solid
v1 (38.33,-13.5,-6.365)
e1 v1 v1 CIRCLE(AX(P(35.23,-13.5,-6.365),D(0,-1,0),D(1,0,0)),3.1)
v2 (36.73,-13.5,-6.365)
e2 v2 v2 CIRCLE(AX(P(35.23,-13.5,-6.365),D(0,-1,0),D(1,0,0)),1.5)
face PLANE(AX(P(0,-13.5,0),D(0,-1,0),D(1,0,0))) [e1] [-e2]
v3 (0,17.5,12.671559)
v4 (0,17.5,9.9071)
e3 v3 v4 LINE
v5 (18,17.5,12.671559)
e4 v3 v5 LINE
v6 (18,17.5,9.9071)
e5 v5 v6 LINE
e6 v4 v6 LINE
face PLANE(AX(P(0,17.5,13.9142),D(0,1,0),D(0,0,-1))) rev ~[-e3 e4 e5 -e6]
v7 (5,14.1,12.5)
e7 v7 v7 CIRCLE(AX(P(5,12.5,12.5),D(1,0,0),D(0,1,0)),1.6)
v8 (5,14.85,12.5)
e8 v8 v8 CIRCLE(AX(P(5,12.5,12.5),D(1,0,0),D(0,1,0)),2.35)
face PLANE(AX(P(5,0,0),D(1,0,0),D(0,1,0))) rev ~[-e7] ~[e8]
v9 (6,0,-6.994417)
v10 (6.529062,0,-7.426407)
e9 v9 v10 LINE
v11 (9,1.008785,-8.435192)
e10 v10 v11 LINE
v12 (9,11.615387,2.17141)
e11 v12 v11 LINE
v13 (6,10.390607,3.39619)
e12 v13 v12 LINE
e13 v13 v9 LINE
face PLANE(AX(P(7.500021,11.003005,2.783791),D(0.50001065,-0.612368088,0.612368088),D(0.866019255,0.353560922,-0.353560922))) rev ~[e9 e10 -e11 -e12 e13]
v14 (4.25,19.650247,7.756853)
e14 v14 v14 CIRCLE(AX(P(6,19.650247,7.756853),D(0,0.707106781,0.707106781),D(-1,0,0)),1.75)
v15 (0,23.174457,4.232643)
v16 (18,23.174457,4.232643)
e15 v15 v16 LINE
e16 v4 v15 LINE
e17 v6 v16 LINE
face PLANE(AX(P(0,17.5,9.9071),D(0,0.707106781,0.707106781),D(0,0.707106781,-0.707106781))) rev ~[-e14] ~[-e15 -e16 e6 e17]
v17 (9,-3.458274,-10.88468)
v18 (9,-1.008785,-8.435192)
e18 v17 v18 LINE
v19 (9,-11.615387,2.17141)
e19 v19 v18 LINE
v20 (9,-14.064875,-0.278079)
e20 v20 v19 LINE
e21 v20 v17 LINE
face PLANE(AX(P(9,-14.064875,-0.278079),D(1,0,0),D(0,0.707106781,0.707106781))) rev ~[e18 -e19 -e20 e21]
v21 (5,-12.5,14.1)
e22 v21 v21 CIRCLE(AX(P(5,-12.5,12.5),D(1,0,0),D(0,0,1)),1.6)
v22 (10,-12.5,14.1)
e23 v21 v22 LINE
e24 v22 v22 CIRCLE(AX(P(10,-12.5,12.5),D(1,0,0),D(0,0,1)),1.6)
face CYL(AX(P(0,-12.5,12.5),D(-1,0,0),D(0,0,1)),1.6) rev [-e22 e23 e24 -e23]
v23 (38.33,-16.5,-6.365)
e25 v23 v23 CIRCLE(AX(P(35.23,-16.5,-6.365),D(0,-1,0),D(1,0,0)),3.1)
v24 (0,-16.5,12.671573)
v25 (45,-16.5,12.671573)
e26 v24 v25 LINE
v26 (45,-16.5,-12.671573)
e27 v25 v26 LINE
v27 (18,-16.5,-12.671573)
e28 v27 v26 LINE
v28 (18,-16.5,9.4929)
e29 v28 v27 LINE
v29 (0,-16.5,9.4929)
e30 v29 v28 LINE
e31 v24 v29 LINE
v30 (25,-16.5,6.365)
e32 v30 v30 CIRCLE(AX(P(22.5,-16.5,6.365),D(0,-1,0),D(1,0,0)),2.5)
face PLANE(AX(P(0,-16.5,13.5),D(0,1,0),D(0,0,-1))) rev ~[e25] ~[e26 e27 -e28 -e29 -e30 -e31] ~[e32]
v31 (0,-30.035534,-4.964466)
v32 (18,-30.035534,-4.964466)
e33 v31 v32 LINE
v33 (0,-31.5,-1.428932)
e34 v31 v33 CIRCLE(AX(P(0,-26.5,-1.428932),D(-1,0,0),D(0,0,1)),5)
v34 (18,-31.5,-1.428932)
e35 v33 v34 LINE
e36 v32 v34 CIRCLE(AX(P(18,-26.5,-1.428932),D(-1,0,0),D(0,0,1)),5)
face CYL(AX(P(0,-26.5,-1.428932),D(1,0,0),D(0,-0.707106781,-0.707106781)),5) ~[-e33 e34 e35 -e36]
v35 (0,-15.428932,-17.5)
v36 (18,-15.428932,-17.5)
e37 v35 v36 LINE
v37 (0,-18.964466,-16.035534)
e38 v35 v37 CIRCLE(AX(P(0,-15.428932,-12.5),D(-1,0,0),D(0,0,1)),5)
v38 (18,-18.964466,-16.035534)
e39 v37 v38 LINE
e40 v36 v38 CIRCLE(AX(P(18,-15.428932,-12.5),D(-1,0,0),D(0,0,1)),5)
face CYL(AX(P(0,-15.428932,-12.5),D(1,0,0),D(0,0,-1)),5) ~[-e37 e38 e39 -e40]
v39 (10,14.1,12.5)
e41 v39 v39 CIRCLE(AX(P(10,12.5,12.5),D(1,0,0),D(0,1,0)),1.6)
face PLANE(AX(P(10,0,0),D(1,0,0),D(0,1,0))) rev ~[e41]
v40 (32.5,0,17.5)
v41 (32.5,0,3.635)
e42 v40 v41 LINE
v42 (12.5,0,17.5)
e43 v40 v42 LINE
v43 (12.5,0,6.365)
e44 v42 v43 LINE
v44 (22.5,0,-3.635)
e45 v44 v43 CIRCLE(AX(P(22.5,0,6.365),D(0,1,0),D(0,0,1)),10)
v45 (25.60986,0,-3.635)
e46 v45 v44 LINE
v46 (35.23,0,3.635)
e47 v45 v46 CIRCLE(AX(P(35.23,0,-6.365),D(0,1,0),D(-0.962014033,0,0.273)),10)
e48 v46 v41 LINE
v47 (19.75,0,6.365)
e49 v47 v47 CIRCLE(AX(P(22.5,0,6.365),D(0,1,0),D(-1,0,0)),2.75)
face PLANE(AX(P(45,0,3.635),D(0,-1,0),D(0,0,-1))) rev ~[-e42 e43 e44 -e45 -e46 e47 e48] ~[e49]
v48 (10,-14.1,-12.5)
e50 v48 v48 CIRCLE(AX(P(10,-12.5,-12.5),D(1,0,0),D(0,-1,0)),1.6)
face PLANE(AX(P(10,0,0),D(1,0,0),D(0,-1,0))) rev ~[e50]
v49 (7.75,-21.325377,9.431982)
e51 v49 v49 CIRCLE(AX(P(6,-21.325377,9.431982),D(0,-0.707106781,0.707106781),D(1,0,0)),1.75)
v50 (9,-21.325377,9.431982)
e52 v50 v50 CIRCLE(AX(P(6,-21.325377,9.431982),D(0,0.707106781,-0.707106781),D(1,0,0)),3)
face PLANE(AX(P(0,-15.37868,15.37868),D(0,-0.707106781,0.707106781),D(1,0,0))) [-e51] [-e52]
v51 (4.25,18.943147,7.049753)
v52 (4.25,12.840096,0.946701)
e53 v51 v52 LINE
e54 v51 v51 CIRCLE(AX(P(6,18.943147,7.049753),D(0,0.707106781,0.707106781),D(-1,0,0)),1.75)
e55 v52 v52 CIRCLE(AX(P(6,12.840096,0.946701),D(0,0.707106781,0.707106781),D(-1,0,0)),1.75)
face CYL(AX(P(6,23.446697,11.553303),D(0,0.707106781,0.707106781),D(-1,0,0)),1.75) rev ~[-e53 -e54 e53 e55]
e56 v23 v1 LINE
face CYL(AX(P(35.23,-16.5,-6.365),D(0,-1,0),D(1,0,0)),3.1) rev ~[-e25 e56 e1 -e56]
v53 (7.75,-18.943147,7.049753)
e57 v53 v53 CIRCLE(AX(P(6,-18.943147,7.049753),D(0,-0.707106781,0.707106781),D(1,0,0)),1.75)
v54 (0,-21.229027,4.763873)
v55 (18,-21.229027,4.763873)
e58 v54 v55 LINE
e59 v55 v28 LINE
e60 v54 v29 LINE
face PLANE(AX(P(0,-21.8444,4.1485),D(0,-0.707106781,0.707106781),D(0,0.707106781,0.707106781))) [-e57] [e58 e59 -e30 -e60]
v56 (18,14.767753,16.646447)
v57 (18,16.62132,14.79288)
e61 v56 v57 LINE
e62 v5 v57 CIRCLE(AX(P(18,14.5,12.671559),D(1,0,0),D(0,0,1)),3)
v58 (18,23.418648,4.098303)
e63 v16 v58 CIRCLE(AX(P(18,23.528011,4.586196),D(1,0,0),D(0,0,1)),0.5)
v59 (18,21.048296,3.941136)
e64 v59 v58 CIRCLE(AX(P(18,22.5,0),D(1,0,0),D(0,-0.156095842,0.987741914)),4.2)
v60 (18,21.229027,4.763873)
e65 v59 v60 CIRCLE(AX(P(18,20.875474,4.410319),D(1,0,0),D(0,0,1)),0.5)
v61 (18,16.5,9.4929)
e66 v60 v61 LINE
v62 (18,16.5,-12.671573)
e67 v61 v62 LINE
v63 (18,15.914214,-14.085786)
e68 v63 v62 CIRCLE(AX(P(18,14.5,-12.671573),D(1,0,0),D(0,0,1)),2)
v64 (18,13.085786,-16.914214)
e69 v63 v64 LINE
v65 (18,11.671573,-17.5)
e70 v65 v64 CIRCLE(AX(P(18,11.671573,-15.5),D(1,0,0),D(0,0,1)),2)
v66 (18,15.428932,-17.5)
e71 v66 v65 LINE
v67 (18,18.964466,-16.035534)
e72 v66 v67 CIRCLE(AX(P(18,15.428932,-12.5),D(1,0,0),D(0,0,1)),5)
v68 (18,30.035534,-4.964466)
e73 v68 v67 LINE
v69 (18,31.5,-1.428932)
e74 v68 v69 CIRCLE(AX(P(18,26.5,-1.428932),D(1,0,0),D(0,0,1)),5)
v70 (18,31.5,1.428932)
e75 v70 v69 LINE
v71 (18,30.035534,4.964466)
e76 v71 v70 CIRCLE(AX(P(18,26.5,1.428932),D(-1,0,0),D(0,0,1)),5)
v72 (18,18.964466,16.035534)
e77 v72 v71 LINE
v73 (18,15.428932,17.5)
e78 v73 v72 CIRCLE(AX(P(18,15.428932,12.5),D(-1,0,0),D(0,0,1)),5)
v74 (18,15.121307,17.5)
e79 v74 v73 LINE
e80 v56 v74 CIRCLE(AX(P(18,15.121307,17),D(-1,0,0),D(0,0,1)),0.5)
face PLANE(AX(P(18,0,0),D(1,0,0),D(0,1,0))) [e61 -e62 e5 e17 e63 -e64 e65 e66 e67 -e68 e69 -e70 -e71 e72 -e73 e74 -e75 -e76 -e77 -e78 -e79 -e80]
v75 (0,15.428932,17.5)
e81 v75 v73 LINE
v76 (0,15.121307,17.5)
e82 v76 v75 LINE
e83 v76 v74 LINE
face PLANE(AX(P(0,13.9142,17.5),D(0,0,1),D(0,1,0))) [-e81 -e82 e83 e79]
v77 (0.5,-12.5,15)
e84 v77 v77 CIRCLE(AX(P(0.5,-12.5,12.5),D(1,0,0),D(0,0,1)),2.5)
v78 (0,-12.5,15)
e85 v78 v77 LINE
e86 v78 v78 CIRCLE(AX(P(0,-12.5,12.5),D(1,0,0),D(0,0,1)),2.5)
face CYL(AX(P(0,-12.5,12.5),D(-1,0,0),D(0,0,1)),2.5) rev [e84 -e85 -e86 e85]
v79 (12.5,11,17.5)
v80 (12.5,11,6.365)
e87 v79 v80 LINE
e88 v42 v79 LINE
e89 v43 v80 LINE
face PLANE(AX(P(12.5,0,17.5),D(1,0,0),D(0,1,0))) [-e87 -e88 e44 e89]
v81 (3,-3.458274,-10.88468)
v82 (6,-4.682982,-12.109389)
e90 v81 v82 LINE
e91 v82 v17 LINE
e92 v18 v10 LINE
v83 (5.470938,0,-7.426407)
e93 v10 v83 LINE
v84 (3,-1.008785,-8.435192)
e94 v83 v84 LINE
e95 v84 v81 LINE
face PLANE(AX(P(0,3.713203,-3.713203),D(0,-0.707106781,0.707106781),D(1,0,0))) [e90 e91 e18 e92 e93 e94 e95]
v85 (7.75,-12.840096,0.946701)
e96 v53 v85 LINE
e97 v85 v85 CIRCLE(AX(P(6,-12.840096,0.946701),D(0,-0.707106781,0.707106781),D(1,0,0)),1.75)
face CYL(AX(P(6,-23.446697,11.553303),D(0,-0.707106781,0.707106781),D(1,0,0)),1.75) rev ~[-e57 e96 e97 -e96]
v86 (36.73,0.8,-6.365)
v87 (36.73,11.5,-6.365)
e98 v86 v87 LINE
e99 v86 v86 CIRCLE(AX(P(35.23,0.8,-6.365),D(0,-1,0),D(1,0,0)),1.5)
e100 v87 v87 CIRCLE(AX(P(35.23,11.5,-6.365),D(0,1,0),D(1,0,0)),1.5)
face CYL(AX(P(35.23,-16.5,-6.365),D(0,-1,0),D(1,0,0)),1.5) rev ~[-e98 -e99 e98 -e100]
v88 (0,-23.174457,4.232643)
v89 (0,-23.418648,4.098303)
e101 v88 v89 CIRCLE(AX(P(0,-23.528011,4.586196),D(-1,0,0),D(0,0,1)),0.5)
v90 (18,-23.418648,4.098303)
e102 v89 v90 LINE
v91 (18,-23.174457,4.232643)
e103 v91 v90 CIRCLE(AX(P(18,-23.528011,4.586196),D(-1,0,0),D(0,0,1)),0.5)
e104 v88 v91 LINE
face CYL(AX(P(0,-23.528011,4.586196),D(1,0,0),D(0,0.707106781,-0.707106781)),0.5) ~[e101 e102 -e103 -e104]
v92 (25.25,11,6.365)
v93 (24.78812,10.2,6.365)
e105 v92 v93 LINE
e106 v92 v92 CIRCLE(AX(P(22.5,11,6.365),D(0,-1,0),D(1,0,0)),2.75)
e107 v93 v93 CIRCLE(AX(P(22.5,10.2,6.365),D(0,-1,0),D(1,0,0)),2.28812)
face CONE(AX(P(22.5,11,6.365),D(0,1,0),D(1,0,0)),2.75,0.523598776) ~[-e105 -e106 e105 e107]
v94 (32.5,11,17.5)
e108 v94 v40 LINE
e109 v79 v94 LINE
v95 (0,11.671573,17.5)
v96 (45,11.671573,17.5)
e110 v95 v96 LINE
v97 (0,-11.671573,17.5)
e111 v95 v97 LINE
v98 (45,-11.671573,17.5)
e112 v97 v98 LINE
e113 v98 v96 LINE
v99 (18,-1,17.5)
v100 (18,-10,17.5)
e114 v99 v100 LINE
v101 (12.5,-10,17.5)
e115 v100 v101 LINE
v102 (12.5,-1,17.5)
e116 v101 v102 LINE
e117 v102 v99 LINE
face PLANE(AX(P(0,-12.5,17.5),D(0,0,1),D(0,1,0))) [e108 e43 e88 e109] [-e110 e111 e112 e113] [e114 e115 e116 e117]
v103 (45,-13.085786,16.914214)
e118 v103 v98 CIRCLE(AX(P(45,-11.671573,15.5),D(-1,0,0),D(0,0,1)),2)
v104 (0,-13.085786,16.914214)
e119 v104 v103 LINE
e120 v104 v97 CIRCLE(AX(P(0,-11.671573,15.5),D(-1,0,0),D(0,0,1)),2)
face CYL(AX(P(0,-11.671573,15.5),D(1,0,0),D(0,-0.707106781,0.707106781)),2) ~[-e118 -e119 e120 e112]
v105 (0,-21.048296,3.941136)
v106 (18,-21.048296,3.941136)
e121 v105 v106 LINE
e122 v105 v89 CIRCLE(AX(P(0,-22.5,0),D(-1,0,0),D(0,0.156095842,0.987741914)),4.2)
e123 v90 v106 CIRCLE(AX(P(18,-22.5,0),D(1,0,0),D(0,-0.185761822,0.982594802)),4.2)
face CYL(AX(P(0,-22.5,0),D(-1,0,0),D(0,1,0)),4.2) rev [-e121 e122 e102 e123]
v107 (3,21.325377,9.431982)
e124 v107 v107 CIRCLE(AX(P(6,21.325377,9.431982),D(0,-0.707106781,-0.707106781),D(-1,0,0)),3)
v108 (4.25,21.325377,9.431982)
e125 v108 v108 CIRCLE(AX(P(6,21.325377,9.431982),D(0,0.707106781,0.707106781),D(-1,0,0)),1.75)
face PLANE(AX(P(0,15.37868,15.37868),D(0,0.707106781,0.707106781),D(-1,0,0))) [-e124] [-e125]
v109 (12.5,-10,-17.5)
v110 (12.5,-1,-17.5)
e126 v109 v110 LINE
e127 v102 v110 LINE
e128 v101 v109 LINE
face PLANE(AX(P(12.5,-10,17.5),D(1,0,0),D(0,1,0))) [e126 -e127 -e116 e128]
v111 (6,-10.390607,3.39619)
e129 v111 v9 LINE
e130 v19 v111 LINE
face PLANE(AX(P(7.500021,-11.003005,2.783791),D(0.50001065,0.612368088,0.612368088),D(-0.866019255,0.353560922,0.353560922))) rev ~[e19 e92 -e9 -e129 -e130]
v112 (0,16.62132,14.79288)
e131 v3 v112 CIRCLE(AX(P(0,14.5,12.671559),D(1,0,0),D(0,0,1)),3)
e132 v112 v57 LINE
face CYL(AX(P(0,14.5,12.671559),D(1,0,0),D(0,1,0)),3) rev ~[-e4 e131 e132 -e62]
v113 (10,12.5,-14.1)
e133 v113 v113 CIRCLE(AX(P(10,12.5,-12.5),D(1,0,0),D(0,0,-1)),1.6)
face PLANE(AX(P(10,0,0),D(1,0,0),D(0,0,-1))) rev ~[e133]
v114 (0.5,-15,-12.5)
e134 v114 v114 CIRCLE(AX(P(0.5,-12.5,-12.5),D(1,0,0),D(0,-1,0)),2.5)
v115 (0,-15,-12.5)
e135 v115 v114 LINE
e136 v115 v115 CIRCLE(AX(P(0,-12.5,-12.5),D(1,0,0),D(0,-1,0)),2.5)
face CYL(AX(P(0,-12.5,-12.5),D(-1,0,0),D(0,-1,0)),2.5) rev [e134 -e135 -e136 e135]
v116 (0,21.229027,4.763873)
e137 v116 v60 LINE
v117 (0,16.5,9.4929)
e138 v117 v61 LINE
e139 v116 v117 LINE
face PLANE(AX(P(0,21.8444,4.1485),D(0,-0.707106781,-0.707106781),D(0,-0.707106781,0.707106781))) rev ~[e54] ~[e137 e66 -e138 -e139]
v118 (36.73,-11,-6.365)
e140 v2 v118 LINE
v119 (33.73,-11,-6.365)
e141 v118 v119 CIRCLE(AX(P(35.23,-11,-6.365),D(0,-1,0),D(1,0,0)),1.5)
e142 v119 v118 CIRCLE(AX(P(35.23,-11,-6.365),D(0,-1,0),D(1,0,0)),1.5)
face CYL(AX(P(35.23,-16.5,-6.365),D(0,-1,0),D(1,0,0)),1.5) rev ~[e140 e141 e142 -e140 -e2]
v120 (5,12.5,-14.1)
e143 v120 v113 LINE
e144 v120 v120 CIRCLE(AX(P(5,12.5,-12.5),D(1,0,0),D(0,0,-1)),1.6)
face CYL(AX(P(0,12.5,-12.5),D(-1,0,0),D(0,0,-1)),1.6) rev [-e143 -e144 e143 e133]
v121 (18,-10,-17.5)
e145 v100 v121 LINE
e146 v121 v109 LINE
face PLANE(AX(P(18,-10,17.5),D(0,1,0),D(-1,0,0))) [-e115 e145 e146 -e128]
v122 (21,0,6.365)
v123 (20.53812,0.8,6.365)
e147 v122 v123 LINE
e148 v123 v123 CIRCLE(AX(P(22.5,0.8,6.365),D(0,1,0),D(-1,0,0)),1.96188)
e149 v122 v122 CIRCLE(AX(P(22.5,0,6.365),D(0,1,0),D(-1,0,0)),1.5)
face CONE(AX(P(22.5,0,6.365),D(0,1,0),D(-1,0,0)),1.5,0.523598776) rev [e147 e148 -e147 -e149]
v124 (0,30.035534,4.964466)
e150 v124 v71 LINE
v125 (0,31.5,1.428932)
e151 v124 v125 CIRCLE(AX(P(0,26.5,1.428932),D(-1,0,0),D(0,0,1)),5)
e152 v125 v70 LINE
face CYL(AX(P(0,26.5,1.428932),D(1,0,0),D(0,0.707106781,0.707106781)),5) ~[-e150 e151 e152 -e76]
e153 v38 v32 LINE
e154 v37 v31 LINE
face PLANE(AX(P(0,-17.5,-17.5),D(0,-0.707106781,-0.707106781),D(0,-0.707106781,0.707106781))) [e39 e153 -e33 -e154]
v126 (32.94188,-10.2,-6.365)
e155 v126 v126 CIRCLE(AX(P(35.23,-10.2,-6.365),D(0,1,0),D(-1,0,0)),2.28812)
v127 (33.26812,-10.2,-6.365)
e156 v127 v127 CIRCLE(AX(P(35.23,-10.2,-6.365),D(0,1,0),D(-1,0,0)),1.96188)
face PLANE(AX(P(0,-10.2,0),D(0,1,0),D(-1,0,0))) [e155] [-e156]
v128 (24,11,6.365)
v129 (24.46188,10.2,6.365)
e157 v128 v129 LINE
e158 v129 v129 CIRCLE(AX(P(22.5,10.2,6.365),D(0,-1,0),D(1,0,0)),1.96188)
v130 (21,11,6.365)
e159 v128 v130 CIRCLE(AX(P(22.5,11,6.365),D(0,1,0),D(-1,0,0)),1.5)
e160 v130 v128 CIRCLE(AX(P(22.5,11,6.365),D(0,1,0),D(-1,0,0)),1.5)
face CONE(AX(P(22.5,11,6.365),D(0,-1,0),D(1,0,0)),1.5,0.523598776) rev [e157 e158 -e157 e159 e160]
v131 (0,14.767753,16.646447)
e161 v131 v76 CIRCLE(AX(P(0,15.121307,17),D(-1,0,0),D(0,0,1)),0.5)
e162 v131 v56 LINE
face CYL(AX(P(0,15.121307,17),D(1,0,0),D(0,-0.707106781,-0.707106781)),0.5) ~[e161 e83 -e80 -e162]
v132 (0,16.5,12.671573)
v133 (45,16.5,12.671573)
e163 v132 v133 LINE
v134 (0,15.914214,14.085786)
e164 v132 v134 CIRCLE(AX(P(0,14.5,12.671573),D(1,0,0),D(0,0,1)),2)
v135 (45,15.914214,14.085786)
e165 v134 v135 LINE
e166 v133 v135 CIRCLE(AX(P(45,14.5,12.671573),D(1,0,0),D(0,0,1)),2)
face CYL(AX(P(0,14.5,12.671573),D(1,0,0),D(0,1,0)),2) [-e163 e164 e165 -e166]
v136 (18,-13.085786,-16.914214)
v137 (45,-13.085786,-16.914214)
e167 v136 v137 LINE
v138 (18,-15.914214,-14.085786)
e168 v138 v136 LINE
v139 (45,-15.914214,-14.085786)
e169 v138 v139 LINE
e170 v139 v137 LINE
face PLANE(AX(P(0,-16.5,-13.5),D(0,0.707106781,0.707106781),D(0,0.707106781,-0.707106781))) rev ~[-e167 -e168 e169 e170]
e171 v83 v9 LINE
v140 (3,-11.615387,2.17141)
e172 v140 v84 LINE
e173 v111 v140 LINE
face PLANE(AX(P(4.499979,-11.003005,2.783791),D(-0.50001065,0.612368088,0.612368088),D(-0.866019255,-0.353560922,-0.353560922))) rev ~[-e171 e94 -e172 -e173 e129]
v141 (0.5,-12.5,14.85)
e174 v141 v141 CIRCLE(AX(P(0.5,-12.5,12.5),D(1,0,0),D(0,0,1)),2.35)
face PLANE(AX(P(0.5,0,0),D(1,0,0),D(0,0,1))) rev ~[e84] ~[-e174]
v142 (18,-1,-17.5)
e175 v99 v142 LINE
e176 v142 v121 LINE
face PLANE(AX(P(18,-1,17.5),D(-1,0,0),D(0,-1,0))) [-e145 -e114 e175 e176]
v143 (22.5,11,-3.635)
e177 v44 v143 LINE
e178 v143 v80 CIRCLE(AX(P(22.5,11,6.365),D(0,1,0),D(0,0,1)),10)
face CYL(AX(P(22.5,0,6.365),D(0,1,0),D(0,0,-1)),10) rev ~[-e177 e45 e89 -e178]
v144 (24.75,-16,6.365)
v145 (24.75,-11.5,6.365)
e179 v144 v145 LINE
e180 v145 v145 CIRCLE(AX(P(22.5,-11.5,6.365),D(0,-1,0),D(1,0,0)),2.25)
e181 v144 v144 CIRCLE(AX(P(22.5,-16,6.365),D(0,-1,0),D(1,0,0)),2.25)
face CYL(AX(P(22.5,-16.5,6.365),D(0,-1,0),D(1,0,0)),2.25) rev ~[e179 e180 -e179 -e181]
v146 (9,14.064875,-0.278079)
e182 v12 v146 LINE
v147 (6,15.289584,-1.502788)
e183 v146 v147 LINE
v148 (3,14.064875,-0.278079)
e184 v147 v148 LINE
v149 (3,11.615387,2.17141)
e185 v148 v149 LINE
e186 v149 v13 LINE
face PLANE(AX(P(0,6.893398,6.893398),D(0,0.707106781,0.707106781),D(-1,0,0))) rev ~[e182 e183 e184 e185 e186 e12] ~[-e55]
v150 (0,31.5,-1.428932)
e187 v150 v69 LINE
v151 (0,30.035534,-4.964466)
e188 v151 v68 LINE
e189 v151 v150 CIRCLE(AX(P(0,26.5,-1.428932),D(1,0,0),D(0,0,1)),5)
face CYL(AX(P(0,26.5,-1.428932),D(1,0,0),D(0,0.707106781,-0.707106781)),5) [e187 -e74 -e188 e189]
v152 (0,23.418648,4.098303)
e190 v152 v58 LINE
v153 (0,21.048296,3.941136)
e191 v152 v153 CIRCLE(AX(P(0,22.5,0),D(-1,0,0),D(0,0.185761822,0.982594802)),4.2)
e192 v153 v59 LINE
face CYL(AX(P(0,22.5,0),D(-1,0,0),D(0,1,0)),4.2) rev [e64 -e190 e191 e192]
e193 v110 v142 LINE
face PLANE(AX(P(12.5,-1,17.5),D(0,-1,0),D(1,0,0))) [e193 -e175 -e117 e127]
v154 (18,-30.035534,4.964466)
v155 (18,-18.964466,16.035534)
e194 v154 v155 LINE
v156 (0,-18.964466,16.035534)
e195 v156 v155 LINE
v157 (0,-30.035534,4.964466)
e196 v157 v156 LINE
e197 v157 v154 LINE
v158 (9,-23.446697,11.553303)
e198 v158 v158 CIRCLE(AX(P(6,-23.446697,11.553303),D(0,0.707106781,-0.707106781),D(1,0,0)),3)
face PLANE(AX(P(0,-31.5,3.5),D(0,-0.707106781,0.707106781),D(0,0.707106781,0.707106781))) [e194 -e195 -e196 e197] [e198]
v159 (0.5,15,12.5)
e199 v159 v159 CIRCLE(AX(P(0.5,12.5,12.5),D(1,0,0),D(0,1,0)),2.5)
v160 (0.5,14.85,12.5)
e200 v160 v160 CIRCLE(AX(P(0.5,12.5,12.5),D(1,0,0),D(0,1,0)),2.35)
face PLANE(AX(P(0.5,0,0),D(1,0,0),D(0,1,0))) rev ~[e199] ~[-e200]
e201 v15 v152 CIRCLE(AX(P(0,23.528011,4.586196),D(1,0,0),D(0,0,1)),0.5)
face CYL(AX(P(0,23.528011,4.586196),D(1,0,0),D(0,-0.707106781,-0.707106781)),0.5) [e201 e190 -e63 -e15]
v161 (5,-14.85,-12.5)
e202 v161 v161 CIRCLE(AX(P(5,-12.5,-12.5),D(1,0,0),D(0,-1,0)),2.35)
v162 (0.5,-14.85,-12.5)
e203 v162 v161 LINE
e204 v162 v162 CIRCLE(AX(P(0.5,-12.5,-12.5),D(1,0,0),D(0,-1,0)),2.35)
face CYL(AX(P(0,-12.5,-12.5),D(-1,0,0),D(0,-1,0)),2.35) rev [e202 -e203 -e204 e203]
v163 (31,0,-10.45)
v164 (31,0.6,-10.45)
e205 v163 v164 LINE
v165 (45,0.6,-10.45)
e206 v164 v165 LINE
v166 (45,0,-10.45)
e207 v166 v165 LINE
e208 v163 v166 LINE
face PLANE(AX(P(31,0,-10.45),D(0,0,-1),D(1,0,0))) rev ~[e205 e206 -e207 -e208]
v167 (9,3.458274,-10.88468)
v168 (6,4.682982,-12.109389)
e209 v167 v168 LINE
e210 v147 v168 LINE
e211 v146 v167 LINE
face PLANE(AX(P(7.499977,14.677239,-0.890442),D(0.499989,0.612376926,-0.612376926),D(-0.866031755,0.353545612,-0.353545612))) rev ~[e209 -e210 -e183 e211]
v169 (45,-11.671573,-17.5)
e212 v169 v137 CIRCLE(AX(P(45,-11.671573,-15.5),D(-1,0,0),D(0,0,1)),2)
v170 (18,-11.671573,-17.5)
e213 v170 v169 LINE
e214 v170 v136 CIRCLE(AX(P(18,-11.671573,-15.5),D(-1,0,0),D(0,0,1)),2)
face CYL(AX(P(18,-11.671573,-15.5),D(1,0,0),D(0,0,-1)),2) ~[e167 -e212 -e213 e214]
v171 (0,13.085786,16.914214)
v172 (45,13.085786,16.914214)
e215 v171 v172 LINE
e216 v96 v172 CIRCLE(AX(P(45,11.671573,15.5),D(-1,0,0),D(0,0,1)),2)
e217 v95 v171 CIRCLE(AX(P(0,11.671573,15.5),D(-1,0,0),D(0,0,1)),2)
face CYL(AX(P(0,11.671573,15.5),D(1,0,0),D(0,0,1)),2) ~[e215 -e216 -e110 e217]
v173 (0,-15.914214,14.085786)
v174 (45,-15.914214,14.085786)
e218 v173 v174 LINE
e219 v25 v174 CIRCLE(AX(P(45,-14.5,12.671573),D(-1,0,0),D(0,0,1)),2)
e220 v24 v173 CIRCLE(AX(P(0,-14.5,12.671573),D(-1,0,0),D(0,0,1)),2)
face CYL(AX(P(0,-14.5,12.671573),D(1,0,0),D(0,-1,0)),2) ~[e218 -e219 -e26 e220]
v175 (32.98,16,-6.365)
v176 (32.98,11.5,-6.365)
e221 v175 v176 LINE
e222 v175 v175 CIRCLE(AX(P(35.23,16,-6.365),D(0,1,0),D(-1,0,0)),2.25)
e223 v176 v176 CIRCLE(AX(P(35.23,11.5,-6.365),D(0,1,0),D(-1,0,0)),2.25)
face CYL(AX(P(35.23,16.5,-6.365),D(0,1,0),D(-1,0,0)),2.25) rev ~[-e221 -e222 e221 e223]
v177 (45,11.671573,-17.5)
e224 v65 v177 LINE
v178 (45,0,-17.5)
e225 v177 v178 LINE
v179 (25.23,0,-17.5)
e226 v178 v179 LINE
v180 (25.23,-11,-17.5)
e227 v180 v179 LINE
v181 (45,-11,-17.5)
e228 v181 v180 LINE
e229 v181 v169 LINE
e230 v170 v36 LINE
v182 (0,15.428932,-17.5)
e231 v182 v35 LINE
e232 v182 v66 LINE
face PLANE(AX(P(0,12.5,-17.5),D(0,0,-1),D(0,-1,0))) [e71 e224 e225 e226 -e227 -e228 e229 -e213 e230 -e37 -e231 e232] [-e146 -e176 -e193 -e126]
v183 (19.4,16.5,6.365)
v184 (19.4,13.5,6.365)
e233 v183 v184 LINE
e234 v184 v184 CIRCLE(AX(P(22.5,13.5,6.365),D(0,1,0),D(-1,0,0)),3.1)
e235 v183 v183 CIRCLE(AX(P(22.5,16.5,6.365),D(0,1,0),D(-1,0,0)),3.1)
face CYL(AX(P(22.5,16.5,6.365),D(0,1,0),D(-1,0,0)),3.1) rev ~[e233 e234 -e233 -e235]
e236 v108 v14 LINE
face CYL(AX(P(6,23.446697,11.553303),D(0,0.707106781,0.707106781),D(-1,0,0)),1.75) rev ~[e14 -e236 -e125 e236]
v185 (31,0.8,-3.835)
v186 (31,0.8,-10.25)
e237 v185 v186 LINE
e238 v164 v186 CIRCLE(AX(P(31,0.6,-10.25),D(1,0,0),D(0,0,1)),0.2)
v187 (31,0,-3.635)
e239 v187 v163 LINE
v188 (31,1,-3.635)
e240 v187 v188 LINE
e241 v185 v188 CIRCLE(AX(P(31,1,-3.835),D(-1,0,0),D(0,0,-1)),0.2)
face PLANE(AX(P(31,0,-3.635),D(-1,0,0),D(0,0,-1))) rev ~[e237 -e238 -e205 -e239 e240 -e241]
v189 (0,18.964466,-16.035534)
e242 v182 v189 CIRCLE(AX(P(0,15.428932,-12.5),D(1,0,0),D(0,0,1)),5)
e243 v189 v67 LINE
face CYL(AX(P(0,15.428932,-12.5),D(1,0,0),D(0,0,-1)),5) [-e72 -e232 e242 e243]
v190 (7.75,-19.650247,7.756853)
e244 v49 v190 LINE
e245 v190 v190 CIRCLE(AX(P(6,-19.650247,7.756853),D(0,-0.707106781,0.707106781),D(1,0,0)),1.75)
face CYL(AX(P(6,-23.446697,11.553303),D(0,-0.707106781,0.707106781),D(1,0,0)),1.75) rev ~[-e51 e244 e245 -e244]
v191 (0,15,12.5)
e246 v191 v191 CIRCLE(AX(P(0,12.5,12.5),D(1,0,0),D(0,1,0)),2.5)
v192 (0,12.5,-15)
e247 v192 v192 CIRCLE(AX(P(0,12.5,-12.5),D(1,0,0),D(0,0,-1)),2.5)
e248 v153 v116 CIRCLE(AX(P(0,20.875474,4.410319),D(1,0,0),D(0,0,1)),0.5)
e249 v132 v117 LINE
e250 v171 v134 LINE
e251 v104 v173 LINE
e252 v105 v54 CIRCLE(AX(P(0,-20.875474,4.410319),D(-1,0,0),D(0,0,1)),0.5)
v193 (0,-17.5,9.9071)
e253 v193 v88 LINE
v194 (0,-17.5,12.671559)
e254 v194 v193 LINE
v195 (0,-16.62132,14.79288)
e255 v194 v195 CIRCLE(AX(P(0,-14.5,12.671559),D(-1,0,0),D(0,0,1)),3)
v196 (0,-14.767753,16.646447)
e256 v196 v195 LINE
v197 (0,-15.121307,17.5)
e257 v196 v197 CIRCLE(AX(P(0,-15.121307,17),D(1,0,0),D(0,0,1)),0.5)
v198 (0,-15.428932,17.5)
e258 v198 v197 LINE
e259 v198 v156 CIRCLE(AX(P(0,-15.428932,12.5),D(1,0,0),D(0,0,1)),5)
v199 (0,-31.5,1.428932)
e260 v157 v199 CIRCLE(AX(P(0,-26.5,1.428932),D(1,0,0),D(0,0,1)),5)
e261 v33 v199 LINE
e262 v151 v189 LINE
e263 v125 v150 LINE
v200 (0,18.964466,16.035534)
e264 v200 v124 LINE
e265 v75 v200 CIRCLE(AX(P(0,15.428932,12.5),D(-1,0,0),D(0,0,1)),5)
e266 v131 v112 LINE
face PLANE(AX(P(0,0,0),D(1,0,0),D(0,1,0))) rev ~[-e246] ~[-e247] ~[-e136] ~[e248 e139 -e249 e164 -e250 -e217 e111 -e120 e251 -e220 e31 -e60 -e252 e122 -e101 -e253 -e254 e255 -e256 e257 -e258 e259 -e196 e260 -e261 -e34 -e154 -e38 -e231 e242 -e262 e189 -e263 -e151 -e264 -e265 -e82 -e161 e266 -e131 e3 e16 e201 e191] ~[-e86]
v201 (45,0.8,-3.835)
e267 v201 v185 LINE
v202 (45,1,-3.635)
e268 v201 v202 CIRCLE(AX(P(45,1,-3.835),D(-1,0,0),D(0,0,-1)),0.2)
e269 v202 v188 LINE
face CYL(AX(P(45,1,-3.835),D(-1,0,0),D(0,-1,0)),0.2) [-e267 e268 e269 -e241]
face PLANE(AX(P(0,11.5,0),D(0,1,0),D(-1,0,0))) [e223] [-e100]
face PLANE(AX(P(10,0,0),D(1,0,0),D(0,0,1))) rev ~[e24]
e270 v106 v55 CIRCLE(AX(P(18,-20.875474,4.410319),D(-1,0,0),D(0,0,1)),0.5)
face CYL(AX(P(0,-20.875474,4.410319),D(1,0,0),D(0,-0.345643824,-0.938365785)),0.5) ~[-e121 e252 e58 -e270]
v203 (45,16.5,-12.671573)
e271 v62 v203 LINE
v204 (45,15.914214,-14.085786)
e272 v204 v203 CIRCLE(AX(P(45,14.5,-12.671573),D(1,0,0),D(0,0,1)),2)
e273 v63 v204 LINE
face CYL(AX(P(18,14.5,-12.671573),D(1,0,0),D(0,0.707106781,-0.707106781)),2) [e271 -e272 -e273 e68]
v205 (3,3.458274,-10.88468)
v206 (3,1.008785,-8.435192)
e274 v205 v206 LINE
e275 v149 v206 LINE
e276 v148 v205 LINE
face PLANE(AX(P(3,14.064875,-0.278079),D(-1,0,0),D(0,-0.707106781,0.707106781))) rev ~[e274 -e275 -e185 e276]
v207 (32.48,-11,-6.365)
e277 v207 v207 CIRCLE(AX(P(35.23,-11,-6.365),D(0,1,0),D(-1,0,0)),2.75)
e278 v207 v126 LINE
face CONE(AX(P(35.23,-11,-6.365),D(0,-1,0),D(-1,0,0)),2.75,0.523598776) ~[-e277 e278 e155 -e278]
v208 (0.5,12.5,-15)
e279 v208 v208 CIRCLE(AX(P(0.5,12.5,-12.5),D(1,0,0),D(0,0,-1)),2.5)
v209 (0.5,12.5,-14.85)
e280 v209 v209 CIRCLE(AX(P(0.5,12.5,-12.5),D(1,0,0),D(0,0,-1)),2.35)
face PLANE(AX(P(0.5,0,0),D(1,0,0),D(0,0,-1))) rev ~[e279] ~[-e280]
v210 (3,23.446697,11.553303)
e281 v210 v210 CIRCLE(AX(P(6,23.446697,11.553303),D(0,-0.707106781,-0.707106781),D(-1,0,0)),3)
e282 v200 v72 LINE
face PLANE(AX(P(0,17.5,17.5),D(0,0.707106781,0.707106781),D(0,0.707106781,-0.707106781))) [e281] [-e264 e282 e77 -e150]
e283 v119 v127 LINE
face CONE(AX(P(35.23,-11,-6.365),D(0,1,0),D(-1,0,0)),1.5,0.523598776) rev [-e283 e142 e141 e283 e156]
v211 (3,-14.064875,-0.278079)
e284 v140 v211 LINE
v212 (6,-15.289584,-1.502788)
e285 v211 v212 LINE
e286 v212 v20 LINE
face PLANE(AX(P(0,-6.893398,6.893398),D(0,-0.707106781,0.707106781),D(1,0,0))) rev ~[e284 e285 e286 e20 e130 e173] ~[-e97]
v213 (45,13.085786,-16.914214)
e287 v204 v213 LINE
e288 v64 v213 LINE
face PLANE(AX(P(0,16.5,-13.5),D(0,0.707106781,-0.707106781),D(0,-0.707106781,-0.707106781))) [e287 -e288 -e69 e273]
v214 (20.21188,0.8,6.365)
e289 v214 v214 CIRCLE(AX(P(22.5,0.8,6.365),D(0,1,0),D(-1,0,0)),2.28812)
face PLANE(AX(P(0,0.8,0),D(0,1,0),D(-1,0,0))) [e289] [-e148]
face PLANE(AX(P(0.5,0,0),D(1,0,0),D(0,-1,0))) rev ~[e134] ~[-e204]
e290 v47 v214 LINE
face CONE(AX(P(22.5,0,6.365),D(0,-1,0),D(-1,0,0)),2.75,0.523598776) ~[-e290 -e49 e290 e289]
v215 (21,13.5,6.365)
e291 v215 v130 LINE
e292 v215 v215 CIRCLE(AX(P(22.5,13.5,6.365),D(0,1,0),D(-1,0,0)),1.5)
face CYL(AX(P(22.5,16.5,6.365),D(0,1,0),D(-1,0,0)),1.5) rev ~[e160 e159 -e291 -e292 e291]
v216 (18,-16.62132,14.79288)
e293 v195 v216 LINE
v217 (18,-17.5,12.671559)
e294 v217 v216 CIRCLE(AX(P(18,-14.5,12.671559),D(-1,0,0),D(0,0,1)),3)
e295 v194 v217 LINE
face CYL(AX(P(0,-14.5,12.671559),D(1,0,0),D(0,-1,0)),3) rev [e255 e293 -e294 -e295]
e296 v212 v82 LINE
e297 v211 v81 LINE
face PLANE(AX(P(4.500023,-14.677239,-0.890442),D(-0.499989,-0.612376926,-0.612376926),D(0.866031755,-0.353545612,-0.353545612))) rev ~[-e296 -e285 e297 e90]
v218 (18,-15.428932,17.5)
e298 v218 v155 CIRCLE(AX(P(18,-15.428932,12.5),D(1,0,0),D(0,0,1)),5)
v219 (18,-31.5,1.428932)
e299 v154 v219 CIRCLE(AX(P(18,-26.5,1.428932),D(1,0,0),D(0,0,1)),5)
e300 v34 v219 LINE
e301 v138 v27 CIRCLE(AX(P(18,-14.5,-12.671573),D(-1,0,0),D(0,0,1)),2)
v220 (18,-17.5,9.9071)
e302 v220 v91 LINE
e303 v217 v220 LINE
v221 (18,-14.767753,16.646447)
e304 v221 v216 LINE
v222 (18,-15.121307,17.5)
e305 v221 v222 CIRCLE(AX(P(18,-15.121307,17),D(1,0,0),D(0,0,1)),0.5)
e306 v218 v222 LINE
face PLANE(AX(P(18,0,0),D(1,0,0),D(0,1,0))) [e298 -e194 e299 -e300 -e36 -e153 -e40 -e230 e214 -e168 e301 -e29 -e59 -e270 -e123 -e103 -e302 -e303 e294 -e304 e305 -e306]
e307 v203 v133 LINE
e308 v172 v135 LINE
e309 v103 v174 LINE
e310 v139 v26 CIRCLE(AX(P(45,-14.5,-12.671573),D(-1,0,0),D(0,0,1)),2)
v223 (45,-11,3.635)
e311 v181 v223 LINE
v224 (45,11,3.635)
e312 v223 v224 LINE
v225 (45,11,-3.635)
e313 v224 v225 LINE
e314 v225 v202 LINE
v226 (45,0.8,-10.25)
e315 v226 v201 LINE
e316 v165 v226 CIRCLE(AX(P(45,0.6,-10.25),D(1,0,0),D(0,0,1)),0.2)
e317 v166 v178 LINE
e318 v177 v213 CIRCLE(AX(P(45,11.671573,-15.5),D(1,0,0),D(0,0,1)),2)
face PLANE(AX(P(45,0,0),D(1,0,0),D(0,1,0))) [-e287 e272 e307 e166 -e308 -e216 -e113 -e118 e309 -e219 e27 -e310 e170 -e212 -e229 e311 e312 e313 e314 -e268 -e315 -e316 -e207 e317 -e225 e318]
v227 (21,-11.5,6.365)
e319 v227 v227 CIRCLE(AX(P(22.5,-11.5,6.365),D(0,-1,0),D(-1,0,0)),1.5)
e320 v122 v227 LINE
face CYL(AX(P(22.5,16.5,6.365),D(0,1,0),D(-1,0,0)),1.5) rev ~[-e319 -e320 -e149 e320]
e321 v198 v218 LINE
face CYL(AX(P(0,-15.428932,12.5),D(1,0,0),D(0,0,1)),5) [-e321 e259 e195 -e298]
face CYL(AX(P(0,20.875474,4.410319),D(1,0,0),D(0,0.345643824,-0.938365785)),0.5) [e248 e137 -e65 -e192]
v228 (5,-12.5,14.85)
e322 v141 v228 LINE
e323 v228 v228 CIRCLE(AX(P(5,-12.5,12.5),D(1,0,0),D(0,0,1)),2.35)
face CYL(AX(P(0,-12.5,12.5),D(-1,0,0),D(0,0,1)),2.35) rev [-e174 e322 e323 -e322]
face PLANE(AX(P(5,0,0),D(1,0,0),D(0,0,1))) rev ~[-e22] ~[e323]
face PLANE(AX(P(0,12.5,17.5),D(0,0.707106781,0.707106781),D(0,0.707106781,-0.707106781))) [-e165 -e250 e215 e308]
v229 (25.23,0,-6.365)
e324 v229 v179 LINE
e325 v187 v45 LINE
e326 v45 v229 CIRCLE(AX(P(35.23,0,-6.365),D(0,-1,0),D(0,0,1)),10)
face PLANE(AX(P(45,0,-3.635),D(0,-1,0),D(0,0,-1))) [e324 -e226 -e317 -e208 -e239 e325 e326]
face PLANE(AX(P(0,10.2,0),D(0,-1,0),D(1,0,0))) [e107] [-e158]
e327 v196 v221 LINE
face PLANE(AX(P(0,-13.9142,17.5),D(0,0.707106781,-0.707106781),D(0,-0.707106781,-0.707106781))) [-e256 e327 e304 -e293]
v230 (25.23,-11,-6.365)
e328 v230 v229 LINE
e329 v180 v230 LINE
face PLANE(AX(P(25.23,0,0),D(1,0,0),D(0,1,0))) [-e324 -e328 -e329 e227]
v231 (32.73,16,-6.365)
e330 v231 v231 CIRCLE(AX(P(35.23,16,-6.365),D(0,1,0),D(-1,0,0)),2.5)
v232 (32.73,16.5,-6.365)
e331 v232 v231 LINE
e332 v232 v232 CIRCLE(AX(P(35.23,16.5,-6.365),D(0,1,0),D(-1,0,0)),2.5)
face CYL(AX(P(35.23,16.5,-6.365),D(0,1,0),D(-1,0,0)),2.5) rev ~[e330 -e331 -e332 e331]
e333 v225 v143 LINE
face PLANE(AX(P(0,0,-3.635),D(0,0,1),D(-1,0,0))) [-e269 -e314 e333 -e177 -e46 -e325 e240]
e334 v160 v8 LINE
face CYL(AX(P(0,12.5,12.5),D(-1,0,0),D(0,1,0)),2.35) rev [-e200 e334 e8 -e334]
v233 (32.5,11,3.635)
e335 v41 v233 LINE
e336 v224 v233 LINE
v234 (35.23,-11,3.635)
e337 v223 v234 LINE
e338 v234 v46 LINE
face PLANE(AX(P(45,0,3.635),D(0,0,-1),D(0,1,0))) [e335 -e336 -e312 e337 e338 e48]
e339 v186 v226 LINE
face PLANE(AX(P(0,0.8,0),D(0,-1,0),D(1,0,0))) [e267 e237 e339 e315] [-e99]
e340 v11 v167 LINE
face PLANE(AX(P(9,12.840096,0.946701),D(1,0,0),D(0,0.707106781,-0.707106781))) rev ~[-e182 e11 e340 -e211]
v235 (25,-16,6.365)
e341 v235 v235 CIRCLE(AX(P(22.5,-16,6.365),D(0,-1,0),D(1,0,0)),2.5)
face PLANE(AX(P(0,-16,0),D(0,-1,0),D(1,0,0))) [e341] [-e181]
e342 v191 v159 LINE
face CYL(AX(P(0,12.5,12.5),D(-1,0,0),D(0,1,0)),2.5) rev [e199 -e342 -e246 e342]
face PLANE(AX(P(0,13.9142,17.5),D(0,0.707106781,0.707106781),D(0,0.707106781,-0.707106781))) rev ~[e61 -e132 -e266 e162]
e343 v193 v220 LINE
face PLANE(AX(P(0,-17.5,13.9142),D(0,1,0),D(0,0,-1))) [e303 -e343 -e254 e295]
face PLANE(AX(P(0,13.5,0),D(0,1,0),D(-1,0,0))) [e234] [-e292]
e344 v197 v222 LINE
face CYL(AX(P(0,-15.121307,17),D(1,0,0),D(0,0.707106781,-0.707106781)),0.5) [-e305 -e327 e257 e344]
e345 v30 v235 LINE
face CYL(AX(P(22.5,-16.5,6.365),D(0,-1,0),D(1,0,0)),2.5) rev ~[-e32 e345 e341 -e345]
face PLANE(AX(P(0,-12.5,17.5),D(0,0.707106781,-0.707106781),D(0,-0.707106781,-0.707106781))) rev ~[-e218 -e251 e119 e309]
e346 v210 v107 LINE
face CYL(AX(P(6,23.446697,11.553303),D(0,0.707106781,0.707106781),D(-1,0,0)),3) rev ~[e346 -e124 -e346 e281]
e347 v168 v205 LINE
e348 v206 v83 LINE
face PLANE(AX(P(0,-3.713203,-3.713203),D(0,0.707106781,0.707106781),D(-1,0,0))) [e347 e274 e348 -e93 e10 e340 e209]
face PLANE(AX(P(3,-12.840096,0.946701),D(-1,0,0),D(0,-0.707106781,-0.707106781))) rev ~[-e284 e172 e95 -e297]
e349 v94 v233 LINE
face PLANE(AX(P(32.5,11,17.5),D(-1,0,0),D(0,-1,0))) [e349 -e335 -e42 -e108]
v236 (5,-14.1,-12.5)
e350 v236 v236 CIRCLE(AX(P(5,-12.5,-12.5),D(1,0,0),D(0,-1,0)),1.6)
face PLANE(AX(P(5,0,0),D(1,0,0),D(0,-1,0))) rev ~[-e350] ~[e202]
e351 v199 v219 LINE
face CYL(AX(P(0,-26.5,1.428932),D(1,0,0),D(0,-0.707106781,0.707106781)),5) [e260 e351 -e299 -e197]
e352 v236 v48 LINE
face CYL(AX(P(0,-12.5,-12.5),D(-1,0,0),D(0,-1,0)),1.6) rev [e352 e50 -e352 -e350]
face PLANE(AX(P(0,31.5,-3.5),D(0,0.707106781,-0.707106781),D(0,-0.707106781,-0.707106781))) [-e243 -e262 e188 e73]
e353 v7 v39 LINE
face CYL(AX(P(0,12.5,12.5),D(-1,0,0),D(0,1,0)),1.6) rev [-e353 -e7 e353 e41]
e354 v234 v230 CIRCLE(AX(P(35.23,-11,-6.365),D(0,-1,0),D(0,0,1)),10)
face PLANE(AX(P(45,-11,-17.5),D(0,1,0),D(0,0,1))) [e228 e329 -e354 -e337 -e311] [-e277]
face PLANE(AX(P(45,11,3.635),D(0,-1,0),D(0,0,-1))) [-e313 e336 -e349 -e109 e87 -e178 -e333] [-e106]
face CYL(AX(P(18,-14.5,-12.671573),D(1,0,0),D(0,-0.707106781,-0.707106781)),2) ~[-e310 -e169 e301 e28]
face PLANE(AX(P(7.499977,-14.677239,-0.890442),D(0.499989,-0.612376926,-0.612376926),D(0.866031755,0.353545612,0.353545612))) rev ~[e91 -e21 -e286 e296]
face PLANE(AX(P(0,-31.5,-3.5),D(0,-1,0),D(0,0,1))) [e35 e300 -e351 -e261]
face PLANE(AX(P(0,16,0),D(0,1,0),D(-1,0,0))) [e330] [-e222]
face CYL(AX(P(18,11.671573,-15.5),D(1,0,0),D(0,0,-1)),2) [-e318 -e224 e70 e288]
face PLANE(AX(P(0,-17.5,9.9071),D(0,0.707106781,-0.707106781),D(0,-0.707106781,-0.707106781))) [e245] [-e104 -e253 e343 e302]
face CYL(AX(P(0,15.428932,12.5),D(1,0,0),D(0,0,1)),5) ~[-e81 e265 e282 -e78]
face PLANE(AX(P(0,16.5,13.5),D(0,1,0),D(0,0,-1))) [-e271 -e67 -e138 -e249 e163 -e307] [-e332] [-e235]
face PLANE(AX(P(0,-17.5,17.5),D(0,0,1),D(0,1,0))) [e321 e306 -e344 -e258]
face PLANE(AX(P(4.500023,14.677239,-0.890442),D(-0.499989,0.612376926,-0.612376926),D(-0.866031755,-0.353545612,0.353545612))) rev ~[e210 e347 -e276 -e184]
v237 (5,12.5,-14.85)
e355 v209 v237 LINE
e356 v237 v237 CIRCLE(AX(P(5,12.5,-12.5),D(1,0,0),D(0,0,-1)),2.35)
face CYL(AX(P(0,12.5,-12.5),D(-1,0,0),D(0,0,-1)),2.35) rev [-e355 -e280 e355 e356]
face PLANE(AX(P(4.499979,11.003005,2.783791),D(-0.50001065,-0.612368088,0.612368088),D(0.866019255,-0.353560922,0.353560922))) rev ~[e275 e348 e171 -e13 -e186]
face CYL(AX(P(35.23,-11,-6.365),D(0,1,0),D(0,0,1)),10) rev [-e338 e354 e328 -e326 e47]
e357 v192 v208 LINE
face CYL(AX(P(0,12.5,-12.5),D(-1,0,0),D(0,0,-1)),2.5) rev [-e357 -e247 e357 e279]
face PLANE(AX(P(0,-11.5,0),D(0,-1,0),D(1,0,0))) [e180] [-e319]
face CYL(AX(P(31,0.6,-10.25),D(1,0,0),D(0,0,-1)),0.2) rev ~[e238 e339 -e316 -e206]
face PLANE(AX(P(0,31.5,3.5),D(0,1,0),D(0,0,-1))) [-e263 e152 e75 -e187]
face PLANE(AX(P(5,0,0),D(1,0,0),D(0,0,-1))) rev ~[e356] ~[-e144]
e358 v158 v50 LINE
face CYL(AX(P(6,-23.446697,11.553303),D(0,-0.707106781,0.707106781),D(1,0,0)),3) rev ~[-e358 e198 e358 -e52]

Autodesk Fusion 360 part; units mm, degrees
sketch "スケッチ1" plane through (0, 0, 0) normal (1, 0, 0) x (0, 1, 0)
  line L0 (-17.5, 17.5) -> (17.5, 17.5)
  line L1 (17.5, 17.5) -> (31.5, 3.5)
  line L2 (31.5, 3.5) -> (31.5, -3.5)
  line L3 (31.5, -3.5) -> (17.5, -17.5)
  line L4 (17.5, -17.5) -> (-17.5, -17.5)
  line L5 (-17.5, -17.5) -> (-31.5, -3.5)
  line L6 (-31.5, -3.5) -> (-31.5, 3.5)
  line L7 (-31.5, 3.5) -> (-17.5, 17.5)
  circle A0 centre (-22.5, 0) radius 4.2
  circle A1 centre (22.5, 0) radius 4.2
  line L8 (-12.5, 17.5) -> (-16.5, 13.5)
  line L9 (-16.5, 13.5) -> (-16.5, -13.5)
  line L10 (-16.5, -13.5) -> (-12.5, -17.5)
  line L11 (12.5, 17.5) -> (16.5, 13.5)
  line L12 (16.5, 13.5) -> (16.5, -13.5)
  line L13 (16.5, -13.5) -> (12.5, -17.5)
  line L14 (-13.9142, 17.5) -> (-17.5, 13.9142)
  line L15 (-17.5, 13.9142) -> (-17.5, 9.9071)
  line L16 (-17.5, 9.9071) -> (-23.2802, 4.1269)
  line L17 (-21.8444, 4.1485) -> (-16.5, 9.4929)
  line L18 (-22.5, 0) -> (-22.5, 4.2) construction
  line L19 (-22.5, 4.2) -> (-16.5, 10.2) construction
  line L20 (-22.5, 4.2) -> (-14.0147, 4.2) construction
  line L21 (0, 17.5) -> (0, -17.5) construction
  line L22 (17.5, 9.9071) -> (23.2802, 4.1269)
  line L23 (21.8444, 4.1485) -> (16.5, 9.4929)
  line L24 (17.5, 13.9142) -> (17.5, 9.9071)
  line L25 (13.9142, 17.5) -> (17.5, 13.9142)
  line L26 (12.5, 17.5) -> (16.5, 13.5)
  dimension "d1" = 35
  dimension "d2" = 17.5
  dimension "d3" = 63
  dimension "d4" = 31.5
  dimension "d5" = 14
  dimension "d6" = 14
  dimension "d7" = 14
  dimension "d8" = 14
  dimension "d9" = 14
  dimension "d10" = 14
  dimension "d11" = 14
  dimension "d12" = 14
  dimension "d13" = 8.4
  dimension "d14" = 8.4
  dimension "d15" = 9
  dimension "d16" = 9
  dimension "d17" = 17.5
  dimension "d18" = 17.5
  dimension "d19" = 4
  dimension "d20" = 4
  dimension "d21" = 4
  dimension "d22" = 4
  dimension "d23" = 4
  dimension "d24" = 4
  dimension "d25" = 4
  dimension "d26" = 4
  dimension "d27" = 33
  dimension "d28" = 16.5
  dimension "d29" = 1
  dimension "d30" = 1
  dimension "d31" = 1
  dimension "d32" = 45
  dimension "d33" = 0.5
extrude "押し出し1" add sketch "スケッチ1" along normal blind 45 contours L0 L4 L8 L9 L10 L11 L12 L13 L26
extrude "押し出し2" add sketch "スケッチ1" along normal blind 18 contours L0 L4 L5 L6 L7 A0 L9 L10 L14 L15 L16 L17 | L0 L1 L2 L3 L4 A1 L12 L13 L22 L23 L24 L25
sketch "スケッチ2" plane through (0, 0, 17.5) normal (0, 0, 1) x (-1, 0, 0)
  line L0 (0, -12.5) -> (0, 12.5)
  line L1 (0, 12.5) -> (-45, 12.5)
  line L2 (-45, 12.5) -> (-45, -12.5)
  line L3 (-45, -12.5) -> (0, -12.5)
  line L4 (-12.5, -11) -> (-32.5, -11)
  line L5 (-32.5, -11) -> (-32.5, 0)
  line L6 (-32.5, 0) -> (-12.5, 0)
  line L7 (-12.5, 0) -> (-12.5, -11)
  line L8 (-12.5, 1) -> (-18, 1)
  line L9 (-18, 1) -> (-18, 10)
  line L10 (-18, 10) -> (-12.5, 10)
  line L11 (-12.5, 10) -> (-12.5, 1)
  circle A0 centre (0, 0) radius 9.7
  line L12 (0, -16.5) -> (-45, -16.5)
  line L13 (0, 16.5) -> (-45, 16.5)
  dimension "d38" = 19.4
  dimension "d39" = 32.5
  dimension "d40" = 5.5
  dimension "d41" = 32.5
  dimension "d42" = 20
  dimension "d43" = 11
  dimension "d44" = 9
  dimension "d45" = 5.5
  dimension "d46" = 6.5
extrude "押し出し3" cut sketch "スケッチ2" against normal up to surface (35 mm away) contours L0 A0 picked at (3.3639, -2.1174)
sketch "スケッチ3" plane through (45, 0, 0) normal (1, 0, 0) x (0, 1, 0)
  line L0 (-12.5, 17.5) -> (-16.5, 13.5)
  line L1 (-16.5, 13.5) -> (-16.5, -13.5)
  line L2 (-16.5, -13.5) -> (-12.5, -17.5)
  line L3 (-12.5, -17.5) -> (12.5, -17.5)
  line L4 (12.5, -17.5) -> (16.5, -13.5)
  line L5 (16.5, -13.5) -> (16.5, 13.5)
  line L6 (16.5, 13.5) -> (12.5, 17.5)
  line L7 (12.5, 17.5) -> (-12.5, 17.5)
  line L8 (-11, 3.635) -> (0, 3.635)
  line L9 (0, 3.635) -> (0, -17.5)
  line L10 (0, -17.5) -> (-11, -17.5)
  line L11 (-11, -17.5) -> (-11, 3.635)
  line L12 (0, 3.635) -> (11, 3.635)
  line L13 (11, 3.635) -> (11, -3.635)
  line L14 (11, -3.635) -> (0, -3.635)
  line L15 (0, -3.635) -> (0, 3.635)
  dimension "d49" = 5.5
  dimension "d50" = 11
  dimension "d51" = 11
  dimension "d52" = 21.135
  dimension "d53" = 7.27
extrude "押し出し4" cut sketch "スケッチ3" against normal blind 19.77 contours L3 L8 L9 L10 L11 L15
fillet "フィレット1" radius 10 1 edges at (25.23, -5.5, 3.635)
extrude "押し出し5" cut sketch "スケッチ2" against normal blind 21.135 contours L4 L5 L6 L7
extrude "押し出し6" cut sketch "スケッチ3" against normal up to surface (12.5 mm away) contours L9 L12 L13 L14 L15
extrude "押し出し7" cut sketch "スケッチ2" against normal up to surface (35 mm away) contours L8 L9 L10 L11
fillet "フィレット2" radius 10 1 edges at (12.5, 5.5, -3.635)
sketch "スケッチ4" plane through (0, 0, 0) normal (0, -1, 0) x (1, 0, 0)
  line L0 (45, -3.635) -> (25.6099, -3.635)
  arc A0 (25.6099, -3.635) -> (25.23, -6.365) centre (35.23, -6.365) ccw
  line L1 (25.23, -6.365) -> (25.23, -17.5)
  line L2 (25.23, -17.5) -> (45, -17.5)
  line L3 (45, -17.5) -> (45, -3.635)
  line L4 (45, -3.635) -> (31, -3.635)
  line L5 (31, -3.635) -> (31, -10.45)
  line L6 (31, -10.45) -> (45, -10.45)
  line L7 (45, -10.45) -> (45, -3.635)
  dimension "d64" = 6.815
  dimension "d65" = 14
extrude "押し出し8" cut sketch "スケッチ4" against normal blind 0.8 contours L0 L3 L4 L5 L6 L7
sketch "スケッチ5" plane through (0, -16.5, 0) normal (0, -1, 0) x (1, 0, 0)
  line L0 (0, 9.4929) -> (18, 9.4929)
  line L1 (18, 9.4929) -> (18, -13.5)
  line L2 (18, -13.5) -> (45, -13.5)
  line L3 (45, -13.5) -> (45, 13.5)
  line L4 (45, 13.5) -> (0, 13.5)
  line L5 (0, 13.5) -> (0, 9.4929)
  circle A0 centre (35.23, -6.365) radius 1.5
  circle A1 centre (35.23, -6.365) radius 3.1
  line L6 (18, -17.5) -> (45, -17.5)
  dimension "d68" = 3
  dimension "d69" = 6.2
  dimension "d70" = 9.77
  dimension "d71" = 11.135
extrude "押し出し9" cut sketch "スケッチ5" against normal up to surface (33 mm away) contours A0
extrude "押し出し10" cut sketch "スケッチ5" against normal blind 3 contours A1
sketch "スケッチ6" plane through (0, 16.5, 0) normal (0, 1, 0) x (-1, 0, 0)
  circle A0 centre (-35.23, -6.365) radius 1.5
  line L0 (-18, 9.4929) -> (0, 9.4929)
  line L1 (0, 9.4929) -> (0, 13.5)
  line L2 (0, 13.5) -> (-45, 13.5)
  line L3 (-45, 13.5) -> (-45, -13.5)
  line L4 (-45, -13.5) -> (-18, -13.5)
  line L5 (-18, -13.5) -> (-18, 9.4929)
  circle A1 centre (-35.23, -6.365) radius 2.5
  circle A2 centre (-35.23, -6.365) radius 2.25
  circle A3 centre (-22.5, 6.365) radius 1.5
  circle A4 centre (-22.5, 6.365) radius 3.1
  line L6 (0, 17.5) -> (-45, 17.5)
  dimension "d76" = 5
  dimension "d77" = 4.5
  dimension "d82" = 3
  dimension "d83" = 6.2
  dimension "d88" = 11.135
  dimension "d89" = 22.5
extrude "押し出し11" cut sketch "スケッチ6" against normal blind 5 contours A2
extrude "押し出し12" cut sketch "スケッチ6" against normal blind 0.5 contours A1
extrude "押し出し13" cut sketch "スケッチ6" against normal up to surface (33 mm away) contours A3
extrude "押し出し14" cut sketch "スケッチ6" against normal blind 3 contours A4
sketch "スケッチ7" plane through (0, -16.5, 0) normal (0, -1, 0) x (1, 0, 0)
  circle A0 centre (22.5, 6.365) radius 1.5
  circle A1 centre (35.23, -6.365) radius 3.1
  line L0 (0, 9.4929) -> (18, 9.4929)
  line L1 (18, 9.4929) -> (18, -13.5)
  line L2 (18, -13.5) -> (45, -13.5)
  line L3 (45, -13.5) -> (45, 13.5)
  line L4 (45, 13.5) -> (0, 13.5)
  line L5 (0, 13.5) -> (0, 9.4929)
  circle A2 centre (22.5, 6.365) radius 2.5
  circle A3 centre (22.5, 6.365) radius 2.25
  dimension "d90" = 5
  dimension "d91" = 4.5
extrude "押し出し15" cut sketch "スケッチ7" against normal blind 5 contours A3
extrude "押し出し16" cut sketch "スケッチ7" against normal blind 0.5 contours A2
sketch "スケッチ8" plane through (0, -11, 0) normal (0, 1, 0) x (-1, 0, 0)
  circle A0 centre (-35.23, -6.365) radius 1.5
  arc A1 (-25.23, -6.365) -> (-35.23, 3.635) centre (-35.23, -6.365) ccw
  line L0 (-35.23, 3.635) -> (-45, 3.635)
  line L1 (-45, 3.635) -> (-45, -17.5)
  line L2 (-45, -17.5) -> (-25.23, -17.5)
  line L3 (-25.23, -17.5) -> (-25.23, -6.365)
  circle A2 centre (-35.23, -6.365) radius 2.75
  dimension "d96" = 5.5
sketch "スケッチ9" plane through (0, 11, 0) normal (0, -1, 0) x (1, 0, 0)
  circle A0 centre (22.5, 6.365) radius 1.5
  arc A1 (12.5, 6.365) -> (22.5, -3.635) centre (22.5, 6.365) ccw
  line L0 (22.5, -3.635) -> (45, -3.635)
  line L1 (45, -3.635) -> (45, 3.635)
  line L2 (45, 3.635) -> (32.5, 3.635)
  line L3 (32.5, 3.635) -> (32.5, 17.5)
  line L4 (32.5, 17.5) -> (12.5, 17.5)
  line L5 (12.5, 17.5) -> (12.5, 6.365)
  circle A2 centre (22.5, 6.365) radius 2.75
  dimension "d101" = 5.5
sketch "スケッチ10" plane through (0, 0, 0) normal (0, 1, 0) x (-1, 0, 0)
  circle A0 centre (-22.5, 6.365) radius 1.5
  arc A1 (-22.5, -3.635) -> (-12.5, 6.365) centre (-22.5, 6.365) ccw
  line L0 (-12.5, 6.365) -> (-12.5, 17.5)
  line L1 (-12.5, 17.5) -> (-32.5, 17.5)
  line L2 (-32.5, 17.5) -> (-32.5, 3.635)
  line L3 (-32.5, 3.635) -> (-35.23, 3.635)
  arc A2 (-25.6099, -3.635) -> (-35.23, 3.635) centre (-35.23, -6.365) ccw
  line L4 (-25.6099, -3.635) -> (-22.5, -3.635)
  circle A3 centre (-22.5, 6.365) radius 2.75
  dimension "d102" = 5.5
extrude "押し出し17" add sketch "スケッチ8" along normal blind 0.8 draft -30 contours A0 | A2
extrude "押し出し18" add sketch "スケッチ10" along normal blind 0.8 draft -30 contours A0 | A3
extrude "押し出し19" add sketch "スケッチ9" along normal blind 0.8 draft -30 contours A0 | A2
extrude "押し出し20" cut 1 faces at (22.1168, 11, 5.803) along direction (0, -1, 0) up to surface (0.8 mm away)
extrude "押し出し21" cut 1 faces at (22.3547, 0, 7.329) along direction (0, 1, 0) up to surface (0.8 mm away)
extrude "押し出し22" cut 1 faces at (34.8579, -11, -6.0994) along direction (0, 1, 0) up to surface (0.8 mm away)
sketch "スケッチ11" plane through (0, -17.5, 17.5) normal (0, -0.7071, 0.7071) x (1, 0, 0)
  line L0 (0, 0) -> (0, -19.799)
  line L1 (0, -19.799) -> (18, -19.799)
  line L2 (18, -19.799) -> (18, 0)
  line L3 (18, 0) -> (0, 0)
  circle A0 centre (6, -8.4099) radius 3
  circle A1 centre (6, -8.4099) radius 1.75
  line L4 (0, -24.7487) -> (18, -24.7487)
  line L5 (3, -10.142) -> (6, -11.874)
  line L6 (6, -11.874) -> (9, -10.142)
  line L7 (9, -10.142) -> (9, -6.6779)
  line L8 (9, -6.6779) -> (6, -4.9458)
  line L9 (6, -4.9458) -> (3, -6.6779)
  line L10 (3, -6.6779) -> (3, -10.142)
  point P0 (6, -8.4099)
  dimension "d113" = 6
  dimension "d114" = 3.5
  dimension "d115" = 16.3388
  dimension "d116" = 6
  dimension "d132" = 3
extrude "押し出し23" cut sketch "スケッチ11" against normal blind 30 contours A1
extrude "押し出し24" cut sketch "スケッチ11" against normal blind 3 contours A0
sketch "スケッチ12" plane through (0, 17.5, 17.5) normal (0, 0.7071, 0.7071) x (-1, 0, 0)
  line L0 (0, -19.799) -> (0, 0)
  line L1 (0, 0) -> (-18, 0)
  line L2 (-18, 0) -> (-18, -19.799)
  line L3 (-18, -19.799) -> (0, -19.799)
  circle A0 centre (-6, -8.4099) radius 3
  circle A1 centre (-6, -8.4099) radius 1.75
  line L4 (0, -24.7487) -> (-18, -24.7487)
  line L5 (-3, -6.6779) -> (-6, -4.9458)
  line L6 (-6, -4.9458) -> (-9, -6.6779)
  line L7 (-9, -6.6779) -> (-9, -10.142)
  line L8 (-9, -10.142) -> (-6, -11.874)
  line L9 (-6, -11.874) -> (-3, -10.142)
  line L10 (-3, -10.142) -> (-3, -6.6779)
  point P0 (-6, -8.4099)
  dimension "d121" = 6
  dimension "d122" = 3.5
  dimension "d123" = 6
  dimension "d124" = 16.3388
  dimension "d136" = 3
extrude "押し出し25" cut sketch "スケッチ12" against normal blind 30 contours A1
extrude "押し出し26" cut sketch "スケッチ12" against normal blind 3 contours A0
extrude "押し出し27" cut sketch "スケッチ11" against normal blind 15 from surface at -15 contours A0 | A0 L6 L7 | A0 L7 L8 | A0 L8 L9 | A0 L5 L6 | A0 L9 L10 | A0 L5 L10 | A1
extrude "押し出し28" cut sketch "スケッチ12" against normal blind 15 from surface at -15 contours A0 | A0 L9 L10 | A0 L5 L10 | A0 L5 L6 | A0 L8 L9 | A0 L6 L7 | A0 L7 L8 | A1
sketch "スケッチ14" plane through (0, 0, 0) normal (1, 0, 0) x (0, 1, 0)
  circle A0 centre (12.5, 12.5) radius 2.5
  circle A1 centre (12.5, 12.5) radius 2.35
  circle A2 centre (12.5, 12.5) radius 1.6
  dimension "d140" = 5
  dimension "d141" = 4.7
  dimension "d142" = 3.2
  dimension "d143" = 12.5
  dimension "d144" = 12.5
extrude "押し出し29" cut sketch "スケッチ14" along normal blind 10 contours A2
extrude "押し出し30" cut sketch "スケッチ14" along normal blind 5 contours A1
extrude "押し出し31" cut sketch "スケッチ14" along normal blind 0.5 contours A0
pattern_circular "C パターン1" count 4 over 360 about axis through (1.75, 0, 0) along (1, 0, 0) of "押し出し31", "押し出し30", "押し出し29"
fillet "フィレット3" radius 5 8 edges at (9, 17.5, -17.5) (9, 31.5, -3.5) (9, 31.5, 3.5) (9, 17.5, 17.5) (9, -17.5, 17.5) (9, -31.5, 3.5) (9, -31.5, -3.5) (9, -17.5, -17.5)
fillet "フィレット4" radius 2 8 edges at (31.5, 12.5, -17.5) (31.5, 16.5, -13.5) (22.5, 16.5, 13.5) (22.5, 12.5, 17.5) (22.5, -12.5, 17.5) (22.5, -16.5, 13.5) (31.5, -16.5, -13.5) (31.5, -12.5, -17.5)
fillet "フィレット5" radius 3 2 edges at (9, 17.5, 13.9142) (9, -17.5, 13.9142)
fillet "フィレット6" radius 0.5 6 edges at (9, 13.9142, 17.5) (9, -13.9142, 17.5) (9, 21.8444, 4.1485) (9, 23.2802, 4.1269) (9, -23.2802, 4.1269) (9, -21.8444, 4.1485)
fillet "フィレット7" radius 0.2 2 edges at (38, 0.8, -3.635) (38, 0.8, -10.45)
equation "d2 = d1 / 2"
equation "d4 = d3 / 2"
equation "d9 = d5"
equation "d10 = d6"
equation "d11 = d7"
equation "d12 = d8"
equation "d17 = d2"
equation "d18 = d2"
equation "d23 = d19"
equation "d24 = d20"
equation "d25 = d21"
equation "d26 = d22"
equation "d28 = d27 / 2"
equation "d33 = d31 / 2"
equation "d41 = d39"
